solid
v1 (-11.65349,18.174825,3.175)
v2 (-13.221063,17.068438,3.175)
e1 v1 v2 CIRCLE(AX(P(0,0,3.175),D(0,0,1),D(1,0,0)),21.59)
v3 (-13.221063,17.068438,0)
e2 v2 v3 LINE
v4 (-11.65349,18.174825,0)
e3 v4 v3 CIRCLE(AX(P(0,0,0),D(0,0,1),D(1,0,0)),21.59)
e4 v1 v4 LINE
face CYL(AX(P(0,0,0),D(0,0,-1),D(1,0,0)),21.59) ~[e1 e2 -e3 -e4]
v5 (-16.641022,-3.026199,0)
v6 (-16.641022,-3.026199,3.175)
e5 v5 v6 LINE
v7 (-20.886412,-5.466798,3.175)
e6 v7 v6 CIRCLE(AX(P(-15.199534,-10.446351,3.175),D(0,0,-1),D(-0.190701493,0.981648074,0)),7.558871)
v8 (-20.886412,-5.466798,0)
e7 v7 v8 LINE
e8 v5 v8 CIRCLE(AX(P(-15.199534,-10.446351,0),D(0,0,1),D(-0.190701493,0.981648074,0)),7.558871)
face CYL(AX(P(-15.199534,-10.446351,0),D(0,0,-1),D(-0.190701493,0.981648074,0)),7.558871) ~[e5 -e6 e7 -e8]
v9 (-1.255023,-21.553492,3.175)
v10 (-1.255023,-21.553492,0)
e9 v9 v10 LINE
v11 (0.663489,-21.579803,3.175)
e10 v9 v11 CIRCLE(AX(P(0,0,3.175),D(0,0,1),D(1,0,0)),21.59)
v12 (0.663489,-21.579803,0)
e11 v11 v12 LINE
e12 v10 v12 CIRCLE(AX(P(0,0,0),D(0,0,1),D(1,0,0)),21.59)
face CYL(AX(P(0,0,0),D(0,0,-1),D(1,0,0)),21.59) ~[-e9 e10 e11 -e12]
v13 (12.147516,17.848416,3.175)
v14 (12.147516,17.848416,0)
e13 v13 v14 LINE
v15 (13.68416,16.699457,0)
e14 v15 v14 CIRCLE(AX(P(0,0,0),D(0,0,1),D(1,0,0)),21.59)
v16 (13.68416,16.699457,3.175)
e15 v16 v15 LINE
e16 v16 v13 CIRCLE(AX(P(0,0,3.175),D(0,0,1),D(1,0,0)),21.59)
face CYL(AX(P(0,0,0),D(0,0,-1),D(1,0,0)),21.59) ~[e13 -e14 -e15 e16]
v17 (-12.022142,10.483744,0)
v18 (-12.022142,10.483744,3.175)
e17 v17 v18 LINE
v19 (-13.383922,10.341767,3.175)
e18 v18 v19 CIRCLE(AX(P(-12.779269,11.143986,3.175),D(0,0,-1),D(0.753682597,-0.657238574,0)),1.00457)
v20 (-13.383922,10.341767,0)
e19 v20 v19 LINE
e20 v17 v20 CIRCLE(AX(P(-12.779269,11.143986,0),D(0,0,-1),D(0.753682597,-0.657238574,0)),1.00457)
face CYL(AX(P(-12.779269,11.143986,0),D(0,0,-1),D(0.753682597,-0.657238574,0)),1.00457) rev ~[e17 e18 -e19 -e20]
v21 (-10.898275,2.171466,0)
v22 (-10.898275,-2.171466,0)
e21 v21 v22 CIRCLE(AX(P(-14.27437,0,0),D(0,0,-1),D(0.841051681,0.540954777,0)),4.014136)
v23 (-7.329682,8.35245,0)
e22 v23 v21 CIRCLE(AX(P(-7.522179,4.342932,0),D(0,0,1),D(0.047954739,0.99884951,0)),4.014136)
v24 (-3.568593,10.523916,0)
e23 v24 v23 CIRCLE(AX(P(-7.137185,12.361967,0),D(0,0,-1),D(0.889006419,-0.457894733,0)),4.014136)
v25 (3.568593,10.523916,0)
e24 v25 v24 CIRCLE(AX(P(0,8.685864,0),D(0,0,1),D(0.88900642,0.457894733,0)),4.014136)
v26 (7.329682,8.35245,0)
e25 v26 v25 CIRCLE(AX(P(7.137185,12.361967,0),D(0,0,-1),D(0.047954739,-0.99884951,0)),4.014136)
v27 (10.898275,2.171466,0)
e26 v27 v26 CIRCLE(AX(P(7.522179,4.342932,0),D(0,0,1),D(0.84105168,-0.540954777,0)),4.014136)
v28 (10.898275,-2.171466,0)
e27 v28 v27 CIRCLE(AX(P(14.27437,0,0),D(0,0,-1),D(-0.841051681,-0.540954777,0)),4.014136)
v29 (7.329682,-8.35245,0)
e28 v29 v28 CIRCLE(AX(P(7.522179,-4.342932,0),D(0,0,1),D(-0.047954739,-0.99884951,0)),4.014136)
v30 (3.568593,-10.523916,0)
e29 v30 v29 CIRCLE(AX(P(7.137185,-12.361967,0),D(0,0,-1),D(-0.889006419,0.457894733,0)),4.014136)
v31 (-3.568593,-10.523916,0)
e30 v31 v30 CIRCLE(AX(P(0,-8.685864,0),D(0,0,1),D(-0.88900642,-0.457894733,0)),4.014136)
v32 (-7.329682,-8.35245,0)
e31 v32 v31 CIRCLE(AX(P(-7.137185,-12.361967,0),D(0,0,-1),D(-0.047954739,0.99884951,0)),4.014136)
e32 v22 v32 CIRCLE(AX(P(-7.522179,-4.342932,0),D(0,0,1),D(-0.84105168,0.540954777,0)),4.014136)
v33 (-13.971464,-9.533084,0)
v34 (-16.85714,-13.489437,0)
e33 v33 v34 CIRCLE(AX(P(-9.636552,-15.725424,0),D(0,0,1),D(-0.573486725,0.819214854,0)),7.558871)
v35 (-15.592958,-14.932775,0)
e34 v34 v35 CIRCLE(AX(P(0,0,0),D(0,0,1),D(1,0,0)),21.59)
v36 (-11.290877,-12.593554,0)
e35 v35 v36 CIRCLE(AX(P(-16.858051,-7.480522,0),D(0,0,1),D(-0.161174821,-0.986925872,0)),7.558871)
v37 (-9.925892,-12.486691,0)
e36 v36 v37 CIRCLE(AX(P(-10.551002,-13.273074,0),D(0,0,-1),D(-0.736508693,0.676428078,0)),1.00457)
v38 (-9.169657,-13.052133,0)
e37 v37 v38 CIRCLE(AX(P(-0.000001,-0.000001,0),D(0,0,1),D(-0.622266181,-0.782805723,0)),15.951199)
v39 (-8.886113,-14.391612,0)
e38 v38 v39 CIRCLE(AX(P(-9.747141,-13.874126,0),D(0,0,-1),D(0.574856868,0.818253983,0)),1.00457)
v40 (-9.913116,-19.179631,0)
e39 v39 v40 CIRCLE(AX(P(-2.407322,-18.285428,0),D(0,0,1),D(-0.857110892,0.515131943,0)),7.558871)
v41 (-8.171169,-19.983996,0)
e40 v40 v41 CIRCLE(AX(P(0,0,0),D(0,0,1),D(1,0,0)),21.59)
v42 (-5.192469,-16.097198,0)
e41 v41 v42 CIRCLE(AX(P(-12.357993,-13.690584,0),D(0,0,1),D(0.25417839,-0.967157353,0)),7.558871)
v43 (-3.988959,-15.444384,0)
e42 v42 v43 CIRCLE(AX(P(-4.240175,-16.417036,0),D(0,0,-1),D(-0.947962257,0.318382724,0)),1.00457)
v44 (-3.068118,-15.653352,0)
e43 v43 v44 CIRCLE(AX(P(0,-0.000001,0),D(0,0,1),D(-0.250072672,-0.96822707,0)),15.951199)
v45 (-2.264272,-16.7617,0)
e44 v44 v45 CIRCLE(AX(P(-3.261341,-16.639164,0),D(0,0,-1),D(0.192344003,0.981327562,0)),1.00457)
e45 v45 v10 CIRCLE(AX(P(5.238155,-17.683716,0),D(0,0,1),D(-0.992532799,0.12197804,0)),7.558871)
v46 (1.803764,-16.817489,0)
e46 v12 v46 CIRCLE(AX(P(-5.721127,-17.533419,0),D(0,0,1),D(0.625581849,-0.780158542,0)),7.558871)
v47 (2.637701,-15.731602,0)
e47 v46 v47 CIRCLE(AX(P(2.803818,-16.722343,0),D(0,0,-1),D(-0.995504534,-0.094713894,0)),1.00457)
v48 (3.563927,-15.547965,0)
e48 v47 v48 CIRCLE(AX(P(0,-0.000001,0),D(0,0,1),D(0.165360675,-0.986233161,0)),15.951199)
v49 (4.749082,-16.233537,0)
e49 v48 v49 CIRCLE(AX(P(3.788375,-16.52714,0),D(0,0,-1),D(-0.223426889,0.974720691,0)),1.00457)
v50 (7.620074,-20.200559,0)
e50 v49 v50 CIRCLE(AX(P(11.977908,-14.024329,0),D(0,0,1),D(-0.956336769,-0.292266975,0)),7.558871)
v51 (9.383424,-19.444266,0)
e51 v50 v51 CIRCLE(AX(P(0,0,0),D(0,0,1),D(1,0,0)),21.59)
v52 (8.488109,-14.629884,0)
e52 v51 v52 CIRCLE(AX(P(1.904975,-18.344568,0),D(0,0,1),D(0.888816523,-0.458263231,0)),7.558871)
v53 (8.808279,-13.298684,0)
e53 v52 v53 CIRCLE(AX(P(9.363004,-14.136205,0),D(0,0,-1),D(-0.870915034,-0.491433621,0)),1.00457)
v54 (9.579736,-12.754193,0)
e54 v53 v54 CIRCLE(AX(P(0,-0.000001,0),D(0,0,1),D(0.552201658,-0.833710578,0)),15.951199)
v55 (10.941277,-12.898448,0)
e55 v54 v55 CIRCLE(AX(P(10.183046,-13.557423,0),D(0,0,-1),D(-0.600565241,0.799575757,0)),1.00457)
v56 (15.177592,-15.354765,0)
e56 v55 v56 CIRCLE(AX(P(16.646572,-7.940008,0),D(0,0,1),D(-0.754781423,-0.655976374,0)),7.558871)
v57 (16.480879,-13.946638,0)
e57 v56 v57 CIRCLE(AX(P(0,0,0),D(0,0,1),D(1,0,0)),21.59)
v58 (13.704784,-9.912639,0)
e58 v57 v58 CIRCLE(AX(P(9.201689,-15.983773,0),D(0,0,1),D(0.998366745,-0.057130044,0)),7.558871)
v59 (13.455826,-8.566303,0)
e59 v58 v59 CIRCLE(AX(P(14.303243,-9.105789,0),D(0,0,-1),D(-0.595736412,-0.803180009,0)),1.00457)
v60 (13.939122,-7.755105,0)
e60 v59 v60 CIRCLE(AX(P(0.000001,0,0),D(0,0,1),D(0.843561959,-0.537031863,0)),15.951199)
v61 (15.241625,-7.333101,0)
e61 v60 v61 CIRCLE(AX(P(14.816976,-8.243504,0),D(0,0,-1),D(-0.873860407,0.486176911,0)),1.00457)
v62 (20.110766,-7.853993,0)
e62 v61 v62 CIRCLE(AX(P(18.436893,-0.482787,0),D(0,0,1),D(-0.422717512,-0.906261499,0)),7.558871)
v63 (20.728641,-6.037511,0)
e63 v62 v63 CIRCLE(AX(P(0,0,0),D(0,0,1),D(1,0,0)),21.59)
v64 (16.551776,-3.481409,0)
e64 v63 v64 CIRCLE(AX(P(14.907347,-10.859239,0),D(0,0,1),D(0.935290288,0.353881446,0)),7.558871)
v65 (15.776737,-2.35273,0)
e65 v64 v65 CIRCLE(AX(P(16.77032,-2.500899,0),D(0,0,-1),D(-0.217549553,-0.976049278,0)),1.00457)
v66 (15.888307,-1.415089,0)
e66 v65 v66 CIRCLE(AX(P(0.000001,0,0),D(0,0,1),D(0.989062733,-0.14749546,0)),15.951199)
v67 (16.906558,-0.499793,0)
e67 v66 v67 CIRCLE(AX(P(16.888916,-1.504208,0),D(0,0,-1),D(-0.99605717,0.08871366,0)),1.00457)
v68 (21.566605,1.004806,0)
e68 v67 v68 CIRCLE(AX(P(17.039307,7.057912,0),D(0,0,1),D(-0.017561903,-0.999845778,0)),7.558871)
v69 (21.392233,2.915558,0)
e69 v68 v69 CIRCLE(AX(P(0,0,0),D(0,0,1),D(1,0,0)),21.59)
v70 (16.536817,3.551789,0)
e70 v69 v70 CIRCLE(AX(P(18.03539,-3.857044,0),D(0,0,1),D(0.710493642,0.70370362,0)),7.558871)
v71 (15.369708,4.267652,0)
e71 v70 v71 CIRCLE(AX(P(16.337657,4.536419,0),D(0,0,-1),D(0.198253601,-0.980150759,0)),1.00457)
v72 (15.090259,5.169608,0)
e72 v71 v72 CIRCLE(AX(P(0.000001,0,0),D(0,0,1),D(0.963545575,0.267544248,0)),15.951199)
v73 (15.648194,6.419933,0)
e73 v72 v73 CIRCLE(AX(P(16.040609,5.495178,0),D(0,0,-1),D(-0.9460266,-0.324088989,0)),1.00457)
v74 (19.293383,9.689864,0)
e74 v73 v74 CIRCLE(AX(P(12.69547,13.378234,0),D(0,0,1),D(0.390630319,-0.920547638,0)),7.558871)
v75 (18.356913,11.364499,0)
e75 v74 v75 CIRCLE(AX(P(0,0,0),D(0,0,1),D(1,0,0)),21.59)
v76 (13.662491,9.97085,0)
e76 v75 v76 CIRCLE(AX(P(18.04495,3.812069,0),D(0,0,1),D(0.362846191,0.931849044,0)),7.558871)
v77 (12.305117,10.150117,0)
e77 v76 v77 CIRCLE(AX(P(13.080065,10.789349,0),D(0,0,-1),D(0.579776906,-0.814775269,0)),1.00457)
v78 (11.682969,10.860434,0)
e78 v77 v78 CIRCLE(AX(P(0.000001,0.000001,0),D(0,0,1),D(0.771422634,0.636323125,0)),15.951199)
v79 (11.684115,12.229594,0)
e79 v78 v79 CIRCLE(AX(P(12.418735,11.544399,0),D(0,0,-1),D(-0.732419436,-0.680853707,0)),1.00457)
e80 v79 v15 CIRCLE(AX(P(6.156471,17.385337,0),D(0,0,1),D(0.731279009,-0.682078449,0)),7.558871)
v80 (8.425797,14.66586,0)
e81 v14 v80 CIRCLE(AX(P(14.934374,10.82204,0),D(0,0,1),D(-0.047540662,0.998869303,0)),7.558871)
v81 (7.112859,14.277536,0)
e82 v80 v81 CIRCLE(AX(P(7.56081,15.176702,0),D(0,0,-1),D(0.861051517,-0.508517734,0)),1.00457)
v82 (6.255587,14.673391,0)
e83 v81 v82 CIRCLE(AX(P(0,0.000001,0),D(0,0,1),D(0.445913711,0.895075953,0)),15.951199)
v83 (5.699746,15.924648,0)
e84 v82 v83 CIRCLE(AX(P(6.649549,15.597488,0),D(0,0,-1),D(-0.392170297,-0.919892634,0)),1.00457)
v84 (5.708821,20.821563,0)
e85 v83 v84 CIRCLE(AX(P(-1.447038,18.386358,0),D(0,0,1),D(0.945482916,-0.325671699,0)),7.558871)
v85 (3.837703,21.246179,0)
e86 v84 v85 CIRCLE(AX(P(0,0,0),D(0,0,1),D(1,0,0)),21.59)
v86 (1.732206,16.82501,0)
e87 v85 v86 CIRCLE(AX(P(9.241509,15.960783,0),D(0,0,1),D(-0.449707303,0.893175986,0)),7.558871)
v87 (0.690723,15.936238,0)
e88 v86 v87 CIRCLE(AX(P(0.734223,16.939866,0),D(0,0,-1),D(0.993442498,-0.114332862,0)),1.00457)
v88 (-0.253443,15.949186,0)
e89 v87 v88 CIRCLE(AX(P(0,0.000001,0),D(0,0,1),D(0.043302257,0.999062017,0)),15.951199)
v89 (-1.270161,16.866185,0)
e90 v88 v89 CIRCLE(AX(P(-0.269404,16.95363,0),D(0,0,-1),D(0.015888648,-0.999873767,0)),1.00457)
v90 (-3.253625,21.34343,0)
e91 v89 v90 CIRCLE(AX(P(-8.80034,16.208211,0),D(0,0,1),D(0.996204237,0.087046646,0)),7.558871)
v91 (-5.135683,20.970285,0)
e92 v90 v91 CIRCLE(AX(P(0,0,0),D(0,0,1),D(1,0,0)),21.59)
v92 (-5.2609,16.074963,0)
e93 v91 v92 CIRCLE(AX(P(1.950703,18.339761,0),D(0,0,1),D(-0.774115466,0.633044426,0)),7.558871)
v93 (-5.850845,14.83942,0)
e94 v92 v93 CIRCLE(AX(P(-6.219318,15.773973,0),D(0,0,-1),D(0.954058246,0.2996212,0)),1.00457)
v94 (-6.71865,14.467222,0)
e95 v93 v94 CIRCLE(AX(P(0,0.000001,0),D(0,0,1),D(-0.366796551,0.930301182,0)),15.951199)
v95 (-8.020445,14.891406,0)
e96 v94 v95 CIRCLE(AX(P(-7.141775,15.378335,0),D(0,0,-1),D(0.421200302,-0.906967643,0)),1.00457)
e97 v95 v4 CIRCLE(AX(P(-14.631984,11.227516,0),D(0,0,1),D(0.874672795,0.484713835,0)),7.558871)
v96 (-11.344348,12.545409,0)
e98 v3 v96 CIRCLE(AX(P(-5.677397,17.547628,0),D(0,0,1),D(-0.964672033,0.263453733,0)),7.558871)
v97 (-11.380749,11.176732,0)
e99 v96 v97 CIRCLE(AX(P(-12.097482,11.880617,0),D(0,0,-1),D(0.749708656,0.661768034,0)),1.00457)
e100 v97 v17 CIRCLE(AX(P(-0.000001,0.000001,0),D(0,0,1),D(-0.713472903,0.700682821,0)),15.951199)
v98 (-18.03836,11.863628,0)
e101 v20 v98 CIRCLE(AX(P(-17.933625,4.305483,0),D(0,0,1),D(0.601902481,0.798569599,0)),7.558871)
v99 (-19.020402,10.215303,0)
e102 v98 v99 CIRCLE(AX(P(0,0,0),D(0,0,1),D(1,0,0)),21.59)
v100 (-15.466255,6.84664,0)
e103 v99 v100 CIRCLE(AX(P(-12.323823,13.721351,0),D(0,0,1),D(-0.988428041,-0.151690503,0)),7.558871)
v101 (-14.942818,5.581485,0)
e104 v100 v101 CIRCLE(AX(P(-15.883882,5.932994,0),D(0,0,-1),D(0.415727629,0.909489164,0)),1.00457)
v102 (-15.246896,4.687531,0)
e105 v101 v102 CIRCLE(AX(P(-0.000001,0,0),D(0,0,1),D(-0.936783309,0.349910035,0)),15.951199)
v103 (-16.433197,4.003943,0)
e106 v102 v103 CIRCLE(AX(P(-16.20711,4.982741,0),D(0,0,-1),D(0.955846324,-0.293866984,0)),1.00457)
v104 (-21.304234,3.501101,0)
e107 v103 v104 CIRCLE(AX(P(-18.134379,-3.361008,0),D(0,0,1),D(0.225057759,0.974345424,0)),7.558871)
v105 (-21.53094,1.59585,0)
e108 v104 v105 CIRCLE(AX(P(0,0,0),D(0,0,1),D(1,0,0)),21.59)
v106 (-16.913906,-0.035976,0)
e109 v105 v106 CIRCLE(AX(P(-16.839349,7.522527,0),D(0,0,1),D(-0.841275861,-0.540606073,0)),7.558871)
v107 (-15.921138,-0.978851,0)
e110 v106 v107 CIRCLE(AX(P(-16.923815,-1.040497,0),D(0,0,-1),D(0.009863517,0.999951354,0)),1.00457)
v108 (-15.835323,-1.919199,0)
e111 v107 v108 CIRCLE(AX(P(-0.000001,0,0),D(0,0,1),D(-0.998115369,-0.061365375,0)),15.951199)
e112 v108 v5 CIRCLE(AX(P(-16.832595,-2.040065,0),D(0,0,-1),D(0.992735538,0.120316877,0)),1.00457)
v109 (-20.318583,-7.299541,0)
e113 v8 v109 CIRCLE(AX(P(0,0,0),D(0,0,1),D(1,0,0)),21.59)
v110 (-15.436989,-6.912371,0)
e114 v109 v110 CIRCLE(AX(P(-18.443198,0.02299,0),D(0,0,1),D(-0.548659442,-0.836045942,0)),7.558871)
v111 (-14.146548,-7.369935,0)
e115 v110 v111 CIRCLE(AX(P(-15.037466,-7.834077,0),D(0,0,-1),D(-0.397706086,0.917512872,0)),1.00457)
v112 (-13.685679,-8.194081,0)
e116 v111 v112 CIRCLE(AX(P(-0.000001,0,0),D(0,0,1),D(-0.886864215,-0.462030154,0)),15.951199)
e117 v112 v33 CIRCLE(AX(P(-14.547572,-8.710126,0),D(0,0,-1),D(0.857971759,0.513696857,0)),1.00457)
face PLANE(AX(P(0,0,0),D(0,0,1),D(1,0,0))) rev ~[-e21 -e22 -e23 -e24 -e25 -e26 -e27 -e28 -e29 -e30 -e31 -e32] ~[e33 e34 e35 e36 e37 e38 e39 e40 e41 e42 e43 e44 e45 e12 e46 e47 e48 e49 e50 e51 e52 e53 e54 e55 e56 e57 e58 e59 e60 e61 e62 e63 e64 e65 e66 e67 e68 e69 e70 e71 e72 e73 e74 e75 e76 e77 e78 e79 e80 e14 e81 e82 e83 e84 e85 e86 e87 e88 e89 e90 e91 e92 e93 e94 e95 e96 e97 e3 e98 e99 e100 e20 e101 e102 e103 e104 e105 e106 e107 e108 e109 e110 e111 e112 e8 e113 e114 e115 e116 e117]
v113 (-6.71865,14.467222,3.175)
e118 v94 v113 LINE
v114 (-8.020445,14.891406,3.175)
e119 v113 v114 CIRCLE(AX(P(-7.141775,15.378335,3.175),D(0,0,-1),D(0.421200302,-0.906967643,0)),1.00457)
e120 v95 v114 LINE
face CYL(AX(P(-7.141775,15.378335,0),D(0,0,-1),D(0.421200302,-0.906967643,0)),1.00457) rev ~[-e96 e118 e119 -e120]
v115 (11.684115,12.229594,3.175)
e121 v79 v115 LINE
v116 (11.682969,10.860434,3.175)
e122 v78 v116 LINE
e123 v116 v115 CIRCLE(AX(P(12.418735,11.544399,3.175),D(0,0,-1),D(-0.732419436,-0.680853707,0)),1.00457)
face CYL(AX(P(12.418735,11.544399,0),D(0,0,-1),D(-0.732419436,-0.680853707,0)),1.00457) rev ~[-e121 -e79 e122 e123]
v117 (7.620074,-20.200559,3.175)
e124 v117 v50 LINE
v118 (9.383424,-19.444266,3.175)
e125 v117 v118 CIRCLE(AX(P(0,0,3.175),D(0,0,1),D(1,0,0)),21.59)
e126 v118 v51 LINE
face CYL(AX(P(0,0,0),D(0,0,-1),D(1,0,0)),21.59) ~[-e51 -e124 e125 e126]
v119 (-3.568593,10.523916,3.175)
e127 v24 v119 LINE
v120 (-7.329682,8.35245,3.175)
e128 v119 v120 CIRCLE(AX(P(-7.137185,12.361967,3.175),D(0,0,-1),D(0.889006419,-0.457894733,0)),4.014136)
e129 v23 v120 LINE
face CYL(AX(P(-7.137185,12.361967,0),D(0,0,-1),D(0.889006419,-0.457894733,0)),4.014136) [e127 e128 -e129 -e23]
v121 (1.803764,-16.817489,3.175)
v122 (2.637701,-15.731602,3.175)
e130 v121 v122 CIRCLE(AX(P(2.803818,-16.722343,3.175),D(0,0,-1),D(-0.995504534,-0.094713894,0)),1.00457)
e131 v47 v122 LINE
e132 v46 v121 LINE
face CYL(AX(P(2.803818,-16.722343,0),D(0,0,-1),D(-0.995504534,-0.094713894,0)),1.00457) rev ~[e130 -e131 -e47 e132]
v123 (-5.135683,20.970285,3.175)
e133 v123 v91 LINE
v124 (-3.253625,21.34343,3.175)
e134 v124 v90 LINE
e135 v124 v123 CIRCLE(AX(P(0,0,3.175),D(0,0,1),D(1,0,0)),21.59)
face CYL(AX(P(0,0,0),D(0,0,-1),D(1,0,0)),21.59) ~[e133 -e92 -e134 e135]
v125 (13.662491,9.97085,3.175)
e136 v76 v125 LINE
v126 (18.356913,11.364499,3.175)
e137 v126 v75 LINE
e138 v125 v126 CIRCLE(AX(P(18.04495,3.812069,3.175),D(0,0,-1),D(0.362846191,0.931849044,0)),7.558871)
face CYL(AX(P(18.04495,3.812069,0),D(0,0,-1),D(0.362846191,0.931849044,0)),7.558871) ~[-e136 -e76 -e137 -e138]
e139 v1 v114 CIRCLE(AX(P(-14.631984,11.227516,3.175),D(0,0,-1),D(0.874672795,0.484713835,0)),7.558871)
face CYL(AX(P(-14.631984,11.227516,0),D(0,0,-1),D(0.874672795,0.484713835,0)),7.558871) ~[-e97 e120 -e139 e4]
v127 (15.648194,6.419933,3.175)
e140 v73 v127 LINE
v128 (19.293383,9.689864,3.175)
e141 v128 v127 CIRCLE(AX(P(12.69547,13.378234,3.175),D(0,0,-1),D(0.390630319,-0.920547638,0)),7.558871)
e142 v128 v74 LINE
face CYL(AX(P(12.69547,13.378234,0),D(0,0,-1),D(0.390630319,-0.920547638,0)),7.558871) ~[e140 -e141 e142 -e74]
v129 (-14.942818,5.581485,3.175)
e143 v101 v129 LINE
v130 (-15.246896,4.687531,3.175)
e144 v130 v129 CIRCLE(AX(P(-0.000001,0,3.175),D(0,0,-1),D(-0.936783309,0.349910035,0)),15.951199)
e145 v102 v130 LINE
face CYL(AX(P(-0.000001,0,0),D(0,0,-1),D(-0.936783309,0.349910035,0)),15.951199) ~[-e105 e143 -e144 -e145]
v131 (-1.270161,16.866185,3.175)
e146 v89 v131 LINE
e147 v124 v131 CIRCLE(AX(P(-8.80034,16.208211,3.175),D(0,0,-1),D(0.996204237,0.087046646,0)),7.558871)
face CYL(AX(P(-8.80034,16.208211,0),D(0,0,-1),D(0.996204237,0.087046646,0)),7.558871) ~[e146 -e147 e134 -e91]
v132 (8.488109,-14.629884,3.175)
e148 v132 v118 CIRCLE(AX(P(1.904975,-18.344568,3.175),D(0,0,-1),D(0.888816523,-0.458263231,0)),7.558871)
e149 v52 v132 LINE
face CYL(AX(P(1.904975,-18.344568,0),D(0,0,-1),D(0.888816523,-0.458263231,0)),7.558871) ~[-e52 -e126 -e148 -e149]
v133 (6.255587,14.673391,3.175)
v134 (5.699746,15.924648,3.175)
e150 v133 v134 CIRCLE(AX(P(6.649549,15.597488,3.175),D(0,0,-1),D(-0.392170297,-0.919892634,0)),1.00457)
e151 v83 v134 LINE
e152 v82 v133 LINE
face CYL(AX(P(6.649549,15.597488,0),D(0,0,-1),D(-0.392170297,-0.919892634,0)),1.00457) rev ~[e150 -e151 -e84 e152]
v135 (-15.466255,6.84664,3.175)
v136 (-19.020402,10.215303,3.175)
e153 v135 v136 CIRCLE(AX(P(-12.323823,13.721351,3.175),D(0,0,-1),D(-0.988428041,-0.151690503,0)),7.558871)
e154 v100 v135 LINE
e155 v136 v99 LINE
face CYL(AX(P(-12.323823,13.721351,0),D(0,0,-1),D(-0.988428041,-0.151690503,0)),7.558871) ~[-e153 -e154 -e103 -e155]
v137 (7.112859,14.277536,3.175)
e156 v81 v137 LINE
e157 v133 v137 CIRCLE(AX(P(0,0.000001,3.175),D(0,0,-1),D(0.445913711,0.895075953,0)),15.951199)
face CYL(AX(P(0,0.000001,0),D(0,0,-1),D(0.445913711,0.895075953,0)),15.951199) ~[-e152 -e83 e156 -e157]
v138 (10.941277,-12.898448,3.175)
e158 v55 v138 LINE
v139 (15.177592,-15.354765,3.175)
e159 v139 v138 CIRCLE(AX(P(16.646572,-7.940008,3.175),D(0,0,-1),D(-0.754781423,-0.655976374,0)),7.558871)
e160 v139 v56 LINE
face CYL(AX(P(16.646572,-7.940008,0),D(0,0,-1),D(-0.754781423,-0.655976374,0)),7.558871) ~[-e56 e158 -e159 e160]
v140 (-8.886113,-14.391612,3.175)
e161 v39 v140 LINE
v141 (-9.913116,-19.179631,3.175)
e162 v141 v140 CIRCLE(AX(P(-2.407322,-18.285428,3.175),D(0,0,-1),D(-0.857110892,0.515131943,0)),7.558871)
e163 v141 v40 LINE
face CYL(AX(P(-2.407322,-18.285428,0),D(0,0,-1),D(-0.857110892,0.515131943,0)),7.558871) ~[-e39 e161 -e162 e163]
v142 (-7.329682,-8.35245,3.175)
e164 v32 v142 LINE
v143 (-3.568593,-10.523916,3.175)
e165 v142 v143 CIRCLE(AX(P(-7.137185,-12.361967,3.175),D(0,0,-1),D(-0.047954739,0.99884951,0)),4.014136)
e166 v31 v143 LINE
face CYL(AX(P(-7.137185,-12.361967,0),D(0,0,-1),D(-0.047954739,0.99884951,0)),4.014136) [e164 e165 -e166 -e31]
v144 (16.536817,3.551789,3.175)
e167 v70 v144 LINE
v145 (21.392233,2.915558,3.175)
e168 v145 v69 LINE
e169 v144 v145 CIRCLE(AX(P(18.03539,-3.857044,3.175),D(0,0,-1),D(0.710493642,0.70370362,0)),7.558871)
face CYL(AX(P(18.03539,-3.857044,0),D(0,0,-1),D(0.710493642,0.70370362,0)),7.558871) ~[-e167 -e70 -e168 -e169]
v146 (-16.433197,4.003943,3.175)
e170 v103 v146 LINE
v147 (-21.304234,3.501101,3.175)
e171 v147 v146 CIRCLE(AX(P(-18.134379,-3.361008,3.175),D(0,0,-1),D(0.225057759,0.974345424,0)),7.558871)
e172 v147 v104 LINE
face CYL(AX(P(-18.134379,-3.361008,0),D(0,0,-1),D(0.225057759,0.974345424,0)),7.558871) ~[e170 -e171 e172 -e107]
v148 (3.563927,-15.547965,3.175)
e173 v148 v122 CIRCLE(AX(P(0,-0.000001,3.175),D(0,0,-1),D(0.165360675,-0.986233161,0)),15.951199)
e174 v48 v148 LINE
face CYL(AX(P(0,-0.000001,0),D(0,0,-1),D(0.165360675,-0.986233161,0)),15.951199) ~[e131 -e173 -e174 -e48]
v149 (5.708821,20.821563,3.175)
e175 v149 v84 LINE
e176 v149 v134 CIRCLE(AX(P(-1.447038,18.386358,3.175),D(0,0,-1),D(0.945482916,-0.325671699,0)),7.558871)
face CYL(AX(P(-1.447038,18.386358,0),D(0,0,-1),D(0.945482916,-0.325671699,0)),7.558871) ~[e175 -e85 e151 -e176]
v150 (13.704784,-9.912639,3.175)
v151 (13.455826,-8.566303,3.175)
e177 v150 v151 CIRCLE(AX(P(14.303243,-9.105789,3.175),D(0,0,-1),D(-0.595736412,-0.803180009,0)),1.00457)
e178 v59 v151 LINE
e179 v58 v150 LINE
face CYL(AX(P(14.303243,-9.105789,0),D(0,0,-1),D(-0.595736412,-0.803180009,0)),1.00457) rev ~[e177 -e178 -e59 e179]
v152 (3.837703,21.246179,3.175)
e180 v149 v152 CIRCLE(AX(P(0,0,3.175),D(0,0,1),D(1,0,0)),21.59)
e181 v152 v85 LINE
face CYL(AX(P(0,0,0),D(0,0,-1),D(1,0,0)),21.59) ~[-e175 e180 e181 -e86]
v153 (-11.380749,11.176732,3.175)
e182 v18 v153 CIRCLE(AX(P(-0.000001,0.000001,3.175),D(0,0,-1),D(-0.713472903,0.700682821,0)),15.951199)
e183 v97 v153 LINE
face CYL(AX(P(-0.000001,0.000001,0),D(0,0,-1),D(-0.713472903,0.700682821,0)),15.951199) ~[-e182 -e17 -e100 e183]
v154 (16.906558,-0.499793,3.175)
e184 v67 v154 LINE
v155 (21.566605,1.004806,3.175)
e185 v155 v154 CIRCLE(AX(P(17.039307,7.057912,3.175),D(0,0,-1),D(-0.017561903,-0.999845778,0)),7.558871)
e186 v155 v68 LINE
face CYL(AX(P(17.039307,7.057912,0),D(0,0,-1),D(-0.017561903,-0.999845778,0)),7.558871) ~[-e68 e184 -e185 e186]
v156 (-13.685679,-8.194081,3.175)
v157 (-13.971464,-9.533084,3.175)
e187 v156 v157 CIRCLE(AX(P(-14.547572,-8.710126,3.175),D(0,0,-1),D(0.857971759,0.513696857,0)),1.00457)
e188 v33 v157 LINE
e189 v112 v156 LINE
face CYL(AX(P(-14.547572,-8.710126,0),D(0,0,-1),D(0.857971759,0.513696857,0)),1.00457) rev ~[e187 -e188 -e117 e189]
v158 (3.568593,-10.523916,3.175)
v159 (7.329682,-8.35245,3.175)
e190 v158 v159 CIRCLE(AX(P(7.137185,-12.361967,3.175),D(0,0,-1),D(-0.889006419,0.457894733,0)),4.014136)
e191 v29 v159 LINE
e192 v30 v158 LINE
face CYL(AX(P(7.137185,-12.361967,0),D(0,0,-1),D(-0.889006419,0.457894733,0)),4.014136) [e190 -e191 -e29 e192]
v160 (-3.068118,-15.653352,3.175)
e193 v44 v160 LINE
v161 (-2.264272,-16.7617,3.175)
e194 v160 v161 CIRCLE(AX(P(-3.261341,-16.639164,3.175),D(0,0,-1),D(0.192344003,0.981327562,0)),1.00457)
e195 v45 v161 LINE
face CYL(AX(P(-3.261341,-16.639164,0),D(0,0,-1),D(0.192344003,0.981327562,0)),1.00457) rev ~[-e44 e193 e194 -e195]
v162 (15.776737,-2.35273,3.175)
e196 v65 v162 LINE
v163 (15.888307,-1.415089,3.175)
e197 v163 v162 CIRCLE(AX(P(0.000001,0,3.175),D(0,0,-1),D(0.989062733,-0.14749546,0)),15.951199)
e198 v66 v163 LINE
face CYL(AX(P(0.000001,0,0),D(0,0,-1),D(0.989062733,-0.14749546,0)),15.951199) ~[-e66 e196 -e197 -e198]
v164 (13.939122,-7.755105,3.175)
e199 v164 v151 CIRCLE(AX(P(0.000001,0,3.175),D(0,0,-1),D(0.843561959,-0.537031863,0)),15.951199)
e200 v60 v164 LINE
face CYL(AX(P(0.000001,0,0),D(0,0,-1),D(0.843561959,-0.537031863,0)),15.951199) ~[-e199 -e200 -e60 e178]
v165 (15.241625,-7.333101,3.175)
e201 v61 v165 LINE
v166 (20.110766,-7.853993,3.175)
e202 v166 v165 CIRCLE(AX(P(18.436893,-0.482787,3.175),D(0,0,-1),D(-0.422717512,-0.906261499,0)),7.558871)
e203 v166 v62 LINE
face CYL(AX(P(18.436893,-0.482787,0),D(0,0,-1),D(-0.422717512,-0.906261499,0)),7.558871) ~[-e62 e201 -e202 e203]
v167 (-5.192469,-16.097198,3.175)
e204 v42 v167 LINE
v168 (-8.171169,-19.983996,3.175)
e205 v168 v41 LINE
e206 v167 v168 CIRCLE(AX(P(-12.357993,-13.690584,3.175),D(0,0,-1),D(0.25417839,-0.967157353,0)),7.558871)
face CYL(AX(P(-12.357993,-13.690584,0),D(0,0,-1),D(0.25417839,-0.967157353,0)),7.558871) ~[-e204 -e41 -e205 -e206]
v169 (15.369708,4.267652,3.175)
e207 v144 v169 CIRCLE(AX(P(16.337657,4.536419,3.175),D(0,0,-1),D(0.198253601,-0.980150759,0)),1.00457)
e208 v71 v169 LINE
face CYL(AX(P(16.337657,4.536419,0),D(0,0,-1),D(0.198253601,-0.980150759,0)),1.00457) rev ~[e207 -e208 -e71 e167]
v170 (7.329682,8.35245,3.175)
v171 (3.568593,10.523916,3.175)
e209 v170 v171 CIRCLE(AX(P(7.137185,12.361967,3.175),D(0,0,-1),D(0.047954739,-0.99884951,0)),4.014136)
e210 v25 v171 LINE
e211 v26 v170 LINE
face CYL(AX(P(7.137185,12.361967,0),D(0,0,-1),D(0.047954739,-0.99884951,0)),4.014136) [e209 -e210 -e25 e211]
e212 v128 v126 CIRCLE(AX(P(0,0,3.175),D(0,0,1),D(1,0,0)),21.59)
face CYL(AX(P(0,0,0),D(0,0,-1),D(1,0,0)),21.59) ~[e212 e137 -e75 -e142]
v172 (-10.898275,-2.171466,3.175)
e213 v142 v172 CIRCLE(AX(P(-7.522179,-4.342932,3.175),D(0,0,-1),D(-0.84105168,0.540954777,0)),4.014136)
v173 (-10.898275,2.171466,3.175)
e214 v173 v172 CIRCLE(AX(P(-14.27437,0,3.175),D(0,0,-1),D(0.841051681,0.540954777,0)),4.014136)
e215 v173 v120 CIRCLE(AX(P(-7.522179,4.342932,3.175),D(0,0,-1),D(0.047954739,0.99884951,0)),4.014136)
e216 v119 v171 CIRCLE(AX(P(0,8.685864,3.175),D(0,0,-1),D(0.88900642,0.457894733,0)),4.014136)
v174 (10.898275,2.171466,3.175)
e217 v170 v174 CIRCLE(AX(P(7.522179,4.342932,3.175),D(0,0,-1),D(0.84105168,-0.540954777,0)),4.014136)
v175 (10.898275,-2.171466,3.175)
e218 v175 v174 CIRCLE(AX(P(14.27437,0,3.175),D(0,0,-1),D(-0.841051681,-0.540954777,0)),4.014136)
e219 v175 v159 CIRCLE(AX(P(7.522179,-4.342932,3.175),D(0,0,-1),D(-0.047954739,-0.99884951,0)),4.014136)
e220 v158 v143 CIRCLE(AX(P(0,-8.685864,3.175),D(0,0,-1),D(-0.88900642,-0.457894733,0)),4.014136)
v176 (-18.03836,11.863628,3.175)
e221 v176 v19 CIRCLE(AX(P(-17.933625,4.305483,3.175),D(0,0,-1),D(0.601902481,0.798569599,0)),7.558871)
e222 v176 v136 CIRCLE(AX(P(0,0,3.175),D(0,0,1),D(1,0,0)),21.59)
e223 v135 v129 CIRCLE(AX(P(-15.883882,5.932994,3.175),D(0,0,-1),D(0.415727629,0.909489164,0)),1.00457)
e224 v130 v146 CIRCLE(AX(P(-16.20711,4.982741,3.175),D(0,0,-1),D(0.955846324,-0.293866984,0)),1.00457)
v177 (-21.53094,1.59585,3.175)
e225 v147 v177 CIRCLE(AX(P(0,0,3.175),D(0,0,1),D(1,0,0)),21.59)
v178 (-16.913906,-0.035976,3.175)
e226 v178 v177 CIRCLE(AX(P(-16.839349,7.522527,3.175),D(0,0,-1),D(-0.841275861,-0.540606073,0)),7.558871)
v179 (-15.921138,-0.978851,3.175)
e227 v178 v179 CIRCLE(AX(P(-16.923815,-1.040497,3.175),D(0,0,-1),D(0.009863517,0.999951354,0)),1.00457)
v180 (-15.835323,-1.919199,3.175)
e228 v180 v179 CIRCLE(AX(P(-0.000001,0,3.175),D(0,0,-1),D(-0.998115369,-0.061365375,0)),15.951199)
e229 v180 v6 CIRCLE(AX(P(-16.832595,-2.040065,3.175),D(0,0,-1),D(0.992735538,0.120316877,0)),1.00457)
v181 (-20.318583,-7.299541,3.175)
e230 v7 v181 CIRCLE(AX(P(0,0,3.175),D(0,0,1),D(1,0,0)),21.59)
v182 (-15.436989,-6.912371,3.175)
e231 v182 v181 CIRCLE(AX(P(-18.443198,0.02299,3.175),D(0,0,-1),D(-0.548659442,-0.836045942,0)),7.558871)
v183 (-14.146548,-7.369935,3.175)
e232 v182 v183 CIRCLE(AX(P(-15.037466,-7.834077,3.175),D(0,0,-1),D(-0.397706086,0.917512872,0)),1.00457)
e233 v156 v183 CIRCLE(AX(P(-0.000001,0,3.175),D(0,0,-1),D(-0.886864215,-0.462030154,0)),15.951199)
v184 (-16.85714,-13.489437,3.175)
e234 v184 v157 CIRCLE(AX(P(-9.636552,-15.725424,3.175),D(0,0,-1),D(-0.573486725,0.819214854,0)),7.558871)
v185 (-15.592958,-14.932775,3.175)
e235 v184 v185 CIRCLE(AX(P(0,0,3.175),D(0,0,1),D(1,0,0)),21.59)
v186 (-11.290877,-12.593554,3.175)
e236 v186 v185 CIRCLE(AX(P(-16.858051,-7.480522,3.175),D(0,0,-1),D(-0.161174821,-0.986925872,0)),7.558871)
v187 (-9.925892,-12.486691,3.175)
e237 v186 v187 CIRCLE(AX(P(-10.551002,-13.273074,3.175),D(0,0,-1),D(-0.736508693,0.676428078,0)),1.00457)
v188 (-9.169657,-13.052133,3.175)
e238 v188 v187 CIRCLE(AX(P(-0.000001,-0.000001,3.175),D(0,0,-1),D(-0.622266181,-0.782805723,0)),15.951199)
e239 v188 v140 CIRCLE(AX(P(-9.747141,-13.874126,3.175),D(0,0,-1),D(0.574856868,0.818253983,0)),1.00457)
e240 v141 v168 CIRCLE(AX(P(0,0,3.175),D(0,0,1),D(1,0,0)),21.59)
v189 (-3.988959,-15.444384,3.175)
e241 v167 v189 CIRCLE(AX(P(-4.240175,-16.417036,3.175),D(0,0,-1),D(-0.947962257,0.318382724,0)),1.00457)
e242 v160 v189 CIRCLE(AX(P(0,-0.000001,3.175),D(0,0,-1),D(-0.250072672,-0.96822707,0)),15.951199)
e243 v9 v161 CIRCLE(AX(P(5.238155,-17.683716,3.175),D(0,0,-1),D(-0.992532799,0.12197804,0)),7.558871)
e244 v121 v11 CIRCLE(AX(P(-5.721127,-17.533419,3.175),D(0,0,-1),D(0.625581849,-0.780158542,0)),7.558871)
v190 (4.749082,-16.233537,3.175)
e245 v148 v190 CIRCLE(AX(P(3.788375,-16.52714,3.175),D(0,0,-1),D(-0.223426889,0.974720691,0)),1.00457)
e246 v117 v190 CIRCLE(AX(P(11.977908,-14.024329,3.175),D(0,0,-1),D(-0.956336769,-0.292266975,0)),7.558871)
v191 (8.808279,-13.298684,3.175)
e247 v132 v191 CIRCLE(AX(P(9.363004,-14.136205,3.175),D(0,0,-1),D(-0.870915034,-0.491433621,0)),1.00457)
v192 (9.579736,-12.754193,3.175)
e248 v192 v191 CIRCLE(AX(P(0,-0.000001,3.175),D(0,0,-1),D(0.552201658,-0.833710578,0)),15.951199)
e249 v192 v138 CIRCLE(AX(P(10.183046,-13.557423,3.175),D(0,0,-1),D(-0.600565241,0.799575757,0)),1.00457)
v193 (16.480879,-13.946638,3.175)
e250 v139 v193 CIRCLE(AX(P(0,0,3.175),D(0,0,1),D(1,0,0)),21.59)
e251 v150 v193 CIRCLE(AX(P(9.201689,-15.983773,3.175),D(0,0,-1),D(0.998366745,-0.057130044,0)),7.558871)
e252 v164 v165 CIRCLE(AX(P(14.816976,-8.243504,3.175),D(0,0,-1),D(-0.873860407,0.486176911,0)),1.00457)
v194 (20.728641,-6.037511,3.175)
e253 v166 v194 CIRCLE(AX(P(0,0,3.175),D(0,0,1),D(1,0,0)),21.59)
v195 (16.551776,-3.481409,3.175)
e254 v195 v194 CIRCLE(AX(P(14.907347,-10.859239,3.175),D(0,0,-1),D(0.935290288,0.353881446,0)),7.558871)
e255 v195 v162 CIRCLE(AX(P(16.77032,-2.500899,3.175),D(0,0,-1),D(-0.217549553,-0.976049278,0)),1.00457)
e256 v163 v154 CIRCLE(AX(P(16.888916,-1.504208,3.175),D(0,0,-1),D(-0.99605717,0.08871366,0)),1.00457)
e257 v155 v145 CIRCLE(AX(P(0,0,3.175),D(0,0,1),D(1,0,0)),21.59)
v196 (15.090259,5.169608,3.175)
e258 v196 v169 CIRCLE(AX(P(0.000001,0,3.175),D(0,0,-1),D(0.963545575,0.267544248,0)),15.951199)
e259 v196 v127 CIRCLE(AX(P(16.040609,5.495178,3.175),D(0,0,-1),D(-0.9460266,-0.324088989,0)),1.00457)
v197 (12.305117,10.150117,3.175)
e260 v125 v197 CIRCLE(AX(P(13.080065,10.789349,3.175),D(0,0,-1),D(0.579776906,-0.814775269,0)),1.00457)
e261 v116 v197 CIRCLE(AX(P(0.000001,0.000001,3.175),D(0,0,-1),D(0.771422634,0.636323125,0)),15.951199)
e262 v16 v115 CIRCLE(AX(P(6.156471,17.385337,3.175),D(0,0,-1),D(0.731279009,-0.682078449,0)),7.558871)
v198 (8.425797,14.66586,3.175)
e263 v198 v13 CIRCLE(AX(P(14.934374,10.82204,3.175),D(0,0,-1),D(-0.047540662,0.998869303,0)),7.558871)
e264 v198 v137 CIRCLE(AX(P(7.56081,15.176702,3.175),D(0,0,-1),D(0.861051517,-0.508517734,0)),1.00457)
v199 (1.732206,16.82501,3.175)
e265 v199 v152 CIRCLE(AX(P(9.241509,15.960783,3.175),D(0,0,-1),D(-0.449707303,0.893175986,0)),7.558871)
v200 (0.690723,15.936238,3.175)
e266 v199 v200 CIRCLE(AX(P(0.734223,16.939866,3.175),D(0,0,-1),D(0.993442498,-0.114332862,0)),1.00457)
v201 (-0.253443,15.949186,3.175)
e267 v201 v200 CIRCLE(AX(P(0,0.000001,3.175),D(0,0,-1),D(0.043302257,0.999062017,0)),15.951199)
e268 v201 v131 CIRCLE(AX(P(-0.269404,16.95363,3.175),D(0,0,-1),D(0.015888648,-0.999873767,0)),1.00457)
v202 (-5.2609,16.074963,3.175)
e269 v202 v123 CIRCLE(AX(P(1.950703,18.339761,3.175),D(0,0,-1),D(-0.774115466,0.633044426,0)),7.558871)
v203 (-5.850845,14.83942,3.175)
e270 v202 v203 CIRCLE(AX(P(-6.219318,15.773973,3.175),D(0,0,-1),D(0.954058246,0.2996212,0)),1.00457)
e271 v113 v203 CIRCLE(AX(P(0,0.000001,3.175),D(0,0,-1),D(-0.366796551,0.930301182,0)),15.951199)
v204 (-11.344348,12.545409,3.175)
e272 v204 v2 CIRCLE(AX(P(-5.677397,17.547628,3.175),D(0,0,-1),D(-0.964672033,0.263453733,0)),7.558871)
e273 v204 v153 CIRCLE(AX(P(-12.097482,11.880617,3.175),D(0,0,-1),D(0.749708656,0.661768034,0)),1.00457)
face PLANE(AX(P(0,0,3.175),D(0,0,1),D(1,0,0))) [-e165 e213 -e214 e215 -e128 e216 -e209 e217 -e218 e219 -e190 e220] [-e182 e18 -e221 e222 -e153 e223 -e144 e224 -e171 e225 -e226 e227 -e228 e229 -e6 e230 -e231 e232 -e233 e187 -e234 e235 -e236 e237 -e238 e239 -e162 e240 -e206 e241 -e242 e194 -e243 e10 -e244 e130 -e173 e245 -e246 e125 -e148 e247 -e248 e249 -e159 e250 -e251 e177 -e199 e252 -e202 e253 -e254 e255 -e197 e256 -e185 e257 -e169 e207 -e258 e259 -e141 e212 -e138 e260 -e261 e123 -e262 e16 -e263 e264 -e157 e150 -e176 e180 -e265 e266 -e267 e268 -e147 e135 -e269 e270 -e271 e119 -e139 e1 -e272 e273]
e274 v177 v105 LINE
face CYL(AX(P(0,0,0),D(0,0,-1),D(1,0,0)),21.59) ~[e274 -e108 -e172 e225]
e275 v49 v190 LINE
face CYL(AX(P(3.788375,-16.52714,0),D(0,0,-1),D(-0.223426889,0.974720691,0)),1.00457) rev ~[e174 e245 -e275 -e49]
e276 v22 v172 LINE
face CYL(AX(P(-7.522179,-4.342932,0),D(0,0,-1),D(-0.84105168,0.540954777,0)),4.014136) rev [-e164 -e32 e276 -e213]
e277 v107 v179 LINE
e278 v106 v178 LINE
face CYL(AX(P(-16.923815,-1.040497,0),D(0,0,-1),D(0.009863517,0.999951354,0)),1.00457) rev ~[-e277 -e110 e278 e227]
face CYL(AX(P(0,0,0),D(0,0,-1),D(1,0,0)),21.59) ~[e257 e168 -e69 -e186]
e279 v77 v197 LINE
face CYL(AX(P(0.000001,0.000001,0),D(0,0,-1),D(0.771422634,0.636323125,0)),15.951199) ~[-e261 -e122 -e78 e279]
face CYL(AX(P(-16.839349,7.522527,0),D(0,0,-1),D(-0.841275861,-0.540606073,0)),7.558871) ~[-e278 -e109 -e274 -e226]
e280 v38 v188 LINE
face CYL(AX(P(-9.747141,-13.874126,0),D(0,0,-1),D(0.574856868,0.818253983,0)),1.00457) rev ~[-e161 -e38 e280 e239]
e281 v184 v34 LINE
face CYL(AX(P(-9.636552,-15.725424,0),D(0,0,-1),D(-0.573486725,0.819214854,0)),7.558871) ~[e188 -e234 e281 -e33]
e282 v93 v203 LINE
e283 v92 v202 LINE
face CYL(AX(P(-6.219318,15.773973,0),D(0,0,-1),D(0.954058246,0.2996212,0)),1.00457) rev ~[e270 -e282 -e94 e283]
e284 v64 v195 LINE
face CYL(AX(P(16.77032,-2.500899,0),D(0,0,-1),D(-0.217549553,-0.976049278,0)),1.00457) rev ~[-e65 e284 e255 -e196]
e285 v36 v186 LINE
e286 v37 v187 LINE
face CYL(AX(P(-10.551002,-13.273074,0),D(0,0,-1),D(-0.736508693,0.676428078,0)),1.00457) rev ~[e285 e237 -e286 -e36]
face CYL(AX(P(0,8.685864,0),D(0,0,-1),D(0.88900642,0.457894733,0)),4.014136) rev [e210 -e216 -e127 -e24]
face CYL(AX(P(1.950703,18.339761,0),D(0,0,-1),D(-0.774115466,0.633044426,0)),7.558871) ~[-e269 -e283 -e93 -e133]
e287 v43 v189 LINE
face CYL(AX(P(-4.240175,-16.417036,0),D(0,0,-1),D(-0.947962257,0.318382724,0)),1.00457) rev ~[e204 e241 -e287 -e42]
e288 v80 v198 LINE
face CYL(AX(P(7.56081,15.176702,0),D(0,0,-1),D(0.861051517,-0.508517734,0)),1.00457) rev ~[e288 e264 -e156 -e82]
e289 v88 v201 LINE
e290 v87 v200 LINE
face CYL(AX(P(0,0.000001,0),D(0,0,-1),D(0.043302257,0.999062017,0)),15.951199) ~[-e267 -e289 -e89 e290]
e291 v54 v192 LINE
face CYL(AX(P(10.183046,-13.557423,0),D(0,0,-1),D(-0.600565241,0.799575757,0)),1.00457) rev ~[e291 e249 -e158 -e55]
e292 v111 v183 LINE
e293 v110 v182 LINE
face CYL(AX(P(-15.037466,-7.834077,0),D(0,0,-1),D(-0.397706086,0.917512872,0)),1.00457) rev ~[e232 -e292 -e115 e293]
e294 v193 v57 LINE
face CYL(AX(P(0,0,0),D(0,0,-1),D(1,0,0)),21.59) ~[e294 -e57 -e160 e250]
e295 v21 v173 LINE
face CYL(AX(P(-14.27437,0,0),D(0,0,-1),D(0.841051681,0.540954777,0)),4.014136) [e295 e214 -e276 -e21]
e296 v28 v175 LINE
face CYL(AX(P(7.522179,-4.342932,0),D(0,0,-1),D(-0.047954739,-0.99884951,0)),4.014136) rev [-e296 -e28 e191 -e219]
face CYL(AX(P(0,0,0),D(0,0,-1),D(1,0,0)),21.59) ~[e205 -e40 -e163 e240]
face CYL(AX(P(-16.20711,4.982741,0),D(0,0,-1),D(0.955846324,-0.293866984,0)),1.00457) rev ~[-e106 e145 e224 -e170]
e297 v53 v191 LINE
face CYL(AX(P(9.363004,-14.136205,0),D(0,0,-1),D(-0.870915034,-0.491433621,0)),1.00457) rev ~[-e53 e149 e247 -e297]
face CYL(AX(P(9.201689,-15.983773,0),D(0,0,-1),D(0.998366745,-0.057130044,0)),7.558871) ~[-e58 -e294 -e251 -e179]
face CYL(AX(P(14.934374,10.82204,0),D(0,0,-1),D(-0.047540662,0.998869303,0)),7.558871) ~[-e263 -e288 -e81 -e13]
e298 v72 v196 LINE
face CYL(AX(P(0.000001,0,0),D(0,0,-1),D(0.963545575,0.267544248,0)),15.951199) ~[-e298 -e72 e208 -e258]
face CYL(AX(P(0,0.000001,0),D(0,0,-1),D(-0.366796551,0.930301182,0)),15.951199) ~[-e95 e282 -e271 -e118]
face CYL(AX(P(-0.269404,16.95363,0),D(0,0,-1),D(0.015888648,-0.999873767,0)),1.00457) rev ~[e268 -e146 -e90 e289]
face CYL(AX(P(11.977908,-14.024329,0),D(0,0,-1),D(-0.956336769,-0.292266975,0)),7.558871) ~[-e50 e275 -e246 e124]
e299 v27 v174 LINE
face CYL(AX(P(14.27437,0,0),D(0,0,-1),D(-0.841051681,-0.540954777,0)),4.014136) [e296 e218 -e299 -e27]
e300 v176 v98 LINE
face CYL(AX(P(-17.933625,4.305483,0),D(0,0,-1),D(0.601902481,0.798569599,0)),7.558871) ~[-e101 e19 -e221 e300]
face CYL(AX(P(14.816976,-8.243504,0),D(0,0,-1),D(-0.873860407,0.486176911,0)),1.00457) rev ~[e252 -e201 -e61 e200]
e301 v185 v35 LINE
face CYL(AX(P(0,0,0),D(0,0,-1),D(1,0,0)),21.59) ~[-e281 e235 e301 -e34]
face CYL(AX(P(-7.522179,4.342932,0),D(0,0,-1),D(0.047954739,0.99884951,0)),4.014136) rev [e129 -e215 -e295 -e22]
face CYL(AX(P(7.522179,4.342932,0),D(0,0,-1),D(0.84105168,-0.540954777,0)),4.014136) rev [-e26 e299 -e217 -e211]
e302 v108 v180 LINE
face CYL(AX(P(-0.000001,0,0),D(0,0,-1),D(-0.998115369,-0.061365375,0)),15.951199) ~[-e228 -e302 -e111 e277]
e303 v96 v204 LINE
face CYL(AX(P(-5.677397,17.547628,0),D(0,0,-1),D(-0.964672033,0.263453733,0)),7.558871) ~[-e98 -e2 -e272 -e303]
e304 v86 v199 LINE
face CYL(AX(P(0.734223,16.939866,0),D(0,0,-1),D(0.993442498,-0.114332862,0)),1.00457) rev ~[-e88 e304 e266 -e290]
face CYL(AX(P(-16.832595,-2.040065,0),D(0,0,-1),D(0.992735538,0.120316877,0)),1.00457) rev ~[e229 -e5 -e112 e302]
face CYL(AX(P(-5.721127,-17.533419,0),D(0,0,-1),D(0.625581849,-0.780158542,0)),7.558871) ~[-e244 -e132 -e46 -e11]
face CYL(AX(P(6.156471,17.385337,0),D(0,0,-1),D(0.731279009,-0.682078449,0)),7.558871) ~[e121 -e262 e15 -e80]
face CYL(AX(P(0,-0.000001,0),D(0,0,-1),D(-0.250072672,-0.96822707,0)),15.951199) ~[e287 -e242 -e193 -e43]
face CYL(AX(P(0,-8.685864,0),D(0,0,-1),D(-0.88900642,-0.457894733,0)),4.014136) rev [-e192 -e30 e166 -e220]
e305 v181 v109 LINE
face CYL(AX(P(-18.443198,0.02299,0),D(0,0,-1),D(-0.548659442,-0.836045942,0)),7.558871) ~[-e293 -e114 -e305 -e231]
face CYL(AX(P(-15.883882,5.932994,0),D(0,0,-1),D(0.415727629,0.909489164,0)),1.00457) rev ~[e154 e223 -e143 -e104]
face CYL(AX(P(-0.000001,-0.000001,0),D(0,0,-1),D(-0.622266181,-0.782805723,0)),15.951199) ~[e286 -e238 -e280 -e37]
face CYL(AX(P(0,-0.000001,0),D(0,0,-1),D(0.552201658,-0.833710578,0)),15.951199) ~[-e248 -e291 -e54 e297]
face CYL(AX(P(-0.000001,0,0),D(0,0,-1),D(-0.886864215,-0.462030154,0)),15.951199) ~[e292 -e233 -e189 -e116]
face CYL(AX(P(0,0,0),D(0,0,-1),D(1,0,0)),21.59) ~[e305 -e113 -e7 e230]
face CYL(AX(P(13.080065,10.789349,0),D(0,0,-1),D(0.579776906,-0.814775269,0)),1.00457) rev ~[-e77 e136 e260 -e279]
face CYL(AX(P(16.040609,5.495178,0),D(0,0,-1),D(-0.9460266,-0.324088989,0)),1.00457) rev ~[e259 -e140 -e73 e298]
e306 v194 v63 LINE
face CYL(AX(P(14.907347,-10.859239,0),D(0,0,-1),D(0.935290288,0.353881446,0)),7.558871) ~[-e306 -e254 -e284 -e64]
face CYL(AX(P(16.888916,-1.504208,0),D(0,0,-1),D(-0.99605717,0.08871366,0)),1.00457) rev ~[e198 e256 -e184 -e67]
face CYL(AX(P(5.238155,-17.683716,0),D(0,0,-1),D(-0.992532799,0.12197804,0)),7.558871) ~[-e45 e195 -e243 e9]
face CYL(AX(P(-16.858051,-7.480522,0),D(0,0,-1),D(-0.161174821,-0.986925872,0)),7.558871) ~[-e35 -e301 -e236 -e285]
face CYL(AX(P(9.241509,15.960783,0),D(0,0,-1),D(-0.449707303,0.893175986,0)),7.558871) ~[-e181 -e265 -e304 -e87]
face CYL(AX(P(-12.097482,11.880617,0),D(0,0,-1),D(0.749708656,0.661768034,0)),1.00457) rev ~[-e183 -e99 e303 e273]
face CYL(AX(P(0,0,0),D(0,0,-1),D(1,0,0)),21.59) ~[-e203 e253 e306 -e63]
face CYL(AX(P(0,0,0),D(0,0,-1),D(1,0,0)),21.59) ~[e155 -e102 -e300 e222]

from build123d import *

# Parameters (mm, degrees)
SKETCH3_R          = 21.59
GEARBODY_DEPTH     = 3.175
TOOTHCUT_DEPTH     = 31.697505192
CIRPATTERN1_COUNT  = 15
BOREDIA_R          = 1.499997014
BORE_DEPTH         = 12700
CUT_EXTRUDE1_DEPTH = 31.681055895


with BuildPart() as part:
    # Sketch3 → gearBody (new body)
    with BuildSketch(Plane.XY):
        Circle(SKETCH3_R)
    extrude(amount=GEARBODY_DEPTH)

    # Sketch2 → toothCut (cut, through all)
    with BuildSketch(Plane.XY):
        with BuildLine():
            ThreePointArc((15.776737466, -2.352729556), (15.839461945, -1.88473519), (15.888307135, -1.41508933))
            ThreePointArc((15.888307135, -1.41508933), (16.217352653, -0.757105225), (16.906558448, -0.499793338))
            ThreePointArc((16.906558448, -0.499793338), (20.511887209, 0.343917978), (23.283949955, 2.798691365))
            ThreePointArc((23.283949955, 2.798691365), (23.287267838, -2.770948491), (21.977086037, -8.184295218))
            ThreePointArc((21.977086037, -8.184295218), (19.858454824, -5.147578893), (16.551776463, -3.481408892))
            ThreePointArc((16.551776463, -3.481408892), (15.942194667, -3.069554465), (15.776737466, -2.352729556))
        make_face()
    toothcut = extrude(amount=TOOTHCUT_DEPTH, mode=Mode.SUBTRACT)

    # CirPattern1: toothCut ×15 about axis
    cirpattern1_axis = Axis((0, 0, 3.175), (0, 0, -1))
    for i in range(1, CIRPATTERN1_COUNT):
        add(toothcut.rotate(cirpattern1_axis, i * 360 / CIRPATTERN1_COUNT), mode=Mode.SUBTRACT)

    # boreDia → bore (cut, symmetric)
    with BuildSketch(Plane.XY):
        Circle(BOREDIA_R)
    extrude(amount=BORE_DEPTH, both=True, mode=Mode.SUBTRACT)

    # Sketch4 → Cut-Extrude1 (cut, through all)
    with BuildSketch(Plane(origin=(0, 0, 0), x_dir=(-1, 0, 0), z_dir=(0, 0, -1))):
        with BuildLine():
            ThreePointArc((-7.329682086, 8.352449747), (-5.130117272, 8.885623765), (-3.568592622, 10.523915761))
            ThreePointArc((-3.568592622, 10.523915761), (0, 12.7), (3.568592622, 10.523915761))
            ThreePointArc((3.568592622, 10.523915761), (5.130117272, 8.885623765), (7.329682086, 8.352449747))
            ThreePointArc((7.329682086, 8.352449747), (10.998522628, 6.35), (10.898274707, 2.171466014))
            ThreePointArc((10.898274707, 2.171466014), (10.260234545, 0), (10.898274707, -2.171466014))
            ThreePointArc((10.898274707, -2.171466014), (10.998522628, -6.35), (7.329682086, -8.352449747))
            ThreePointArc((7.329682086, -8.352449747), (5.130117272, -8.885623765), (3.568592622, -10.523915761))
            ThreePointArc((3.568592622, -10.523915761), (0, -12.7), (-3.568592622, -10.523915761))
            ThreePointArc((-3.568592622, -10.523915761), (-5.130117272, -8.885623765), (-7.329682086, -8.352449747))
            ThreePointArc((-7.329682086, -8.352449747), (-10.998522628, -6.35), (-10.898274707, -2.171466014))
            ThreePointArc((-10.898274707, -2.171466014), (-10.260234545, 0), (-10.898274707, 2.171466014))
            ThreePointArc((-10.898274707, 2.171466014), (-10.998522628, 6.35), (-7.329682086, 8.352449747))
        make_face()
    extrude(amount=-CUT_EXTRUDE1_DEPTH, mode=Mode.SUBTRACT)


solid = part.part
